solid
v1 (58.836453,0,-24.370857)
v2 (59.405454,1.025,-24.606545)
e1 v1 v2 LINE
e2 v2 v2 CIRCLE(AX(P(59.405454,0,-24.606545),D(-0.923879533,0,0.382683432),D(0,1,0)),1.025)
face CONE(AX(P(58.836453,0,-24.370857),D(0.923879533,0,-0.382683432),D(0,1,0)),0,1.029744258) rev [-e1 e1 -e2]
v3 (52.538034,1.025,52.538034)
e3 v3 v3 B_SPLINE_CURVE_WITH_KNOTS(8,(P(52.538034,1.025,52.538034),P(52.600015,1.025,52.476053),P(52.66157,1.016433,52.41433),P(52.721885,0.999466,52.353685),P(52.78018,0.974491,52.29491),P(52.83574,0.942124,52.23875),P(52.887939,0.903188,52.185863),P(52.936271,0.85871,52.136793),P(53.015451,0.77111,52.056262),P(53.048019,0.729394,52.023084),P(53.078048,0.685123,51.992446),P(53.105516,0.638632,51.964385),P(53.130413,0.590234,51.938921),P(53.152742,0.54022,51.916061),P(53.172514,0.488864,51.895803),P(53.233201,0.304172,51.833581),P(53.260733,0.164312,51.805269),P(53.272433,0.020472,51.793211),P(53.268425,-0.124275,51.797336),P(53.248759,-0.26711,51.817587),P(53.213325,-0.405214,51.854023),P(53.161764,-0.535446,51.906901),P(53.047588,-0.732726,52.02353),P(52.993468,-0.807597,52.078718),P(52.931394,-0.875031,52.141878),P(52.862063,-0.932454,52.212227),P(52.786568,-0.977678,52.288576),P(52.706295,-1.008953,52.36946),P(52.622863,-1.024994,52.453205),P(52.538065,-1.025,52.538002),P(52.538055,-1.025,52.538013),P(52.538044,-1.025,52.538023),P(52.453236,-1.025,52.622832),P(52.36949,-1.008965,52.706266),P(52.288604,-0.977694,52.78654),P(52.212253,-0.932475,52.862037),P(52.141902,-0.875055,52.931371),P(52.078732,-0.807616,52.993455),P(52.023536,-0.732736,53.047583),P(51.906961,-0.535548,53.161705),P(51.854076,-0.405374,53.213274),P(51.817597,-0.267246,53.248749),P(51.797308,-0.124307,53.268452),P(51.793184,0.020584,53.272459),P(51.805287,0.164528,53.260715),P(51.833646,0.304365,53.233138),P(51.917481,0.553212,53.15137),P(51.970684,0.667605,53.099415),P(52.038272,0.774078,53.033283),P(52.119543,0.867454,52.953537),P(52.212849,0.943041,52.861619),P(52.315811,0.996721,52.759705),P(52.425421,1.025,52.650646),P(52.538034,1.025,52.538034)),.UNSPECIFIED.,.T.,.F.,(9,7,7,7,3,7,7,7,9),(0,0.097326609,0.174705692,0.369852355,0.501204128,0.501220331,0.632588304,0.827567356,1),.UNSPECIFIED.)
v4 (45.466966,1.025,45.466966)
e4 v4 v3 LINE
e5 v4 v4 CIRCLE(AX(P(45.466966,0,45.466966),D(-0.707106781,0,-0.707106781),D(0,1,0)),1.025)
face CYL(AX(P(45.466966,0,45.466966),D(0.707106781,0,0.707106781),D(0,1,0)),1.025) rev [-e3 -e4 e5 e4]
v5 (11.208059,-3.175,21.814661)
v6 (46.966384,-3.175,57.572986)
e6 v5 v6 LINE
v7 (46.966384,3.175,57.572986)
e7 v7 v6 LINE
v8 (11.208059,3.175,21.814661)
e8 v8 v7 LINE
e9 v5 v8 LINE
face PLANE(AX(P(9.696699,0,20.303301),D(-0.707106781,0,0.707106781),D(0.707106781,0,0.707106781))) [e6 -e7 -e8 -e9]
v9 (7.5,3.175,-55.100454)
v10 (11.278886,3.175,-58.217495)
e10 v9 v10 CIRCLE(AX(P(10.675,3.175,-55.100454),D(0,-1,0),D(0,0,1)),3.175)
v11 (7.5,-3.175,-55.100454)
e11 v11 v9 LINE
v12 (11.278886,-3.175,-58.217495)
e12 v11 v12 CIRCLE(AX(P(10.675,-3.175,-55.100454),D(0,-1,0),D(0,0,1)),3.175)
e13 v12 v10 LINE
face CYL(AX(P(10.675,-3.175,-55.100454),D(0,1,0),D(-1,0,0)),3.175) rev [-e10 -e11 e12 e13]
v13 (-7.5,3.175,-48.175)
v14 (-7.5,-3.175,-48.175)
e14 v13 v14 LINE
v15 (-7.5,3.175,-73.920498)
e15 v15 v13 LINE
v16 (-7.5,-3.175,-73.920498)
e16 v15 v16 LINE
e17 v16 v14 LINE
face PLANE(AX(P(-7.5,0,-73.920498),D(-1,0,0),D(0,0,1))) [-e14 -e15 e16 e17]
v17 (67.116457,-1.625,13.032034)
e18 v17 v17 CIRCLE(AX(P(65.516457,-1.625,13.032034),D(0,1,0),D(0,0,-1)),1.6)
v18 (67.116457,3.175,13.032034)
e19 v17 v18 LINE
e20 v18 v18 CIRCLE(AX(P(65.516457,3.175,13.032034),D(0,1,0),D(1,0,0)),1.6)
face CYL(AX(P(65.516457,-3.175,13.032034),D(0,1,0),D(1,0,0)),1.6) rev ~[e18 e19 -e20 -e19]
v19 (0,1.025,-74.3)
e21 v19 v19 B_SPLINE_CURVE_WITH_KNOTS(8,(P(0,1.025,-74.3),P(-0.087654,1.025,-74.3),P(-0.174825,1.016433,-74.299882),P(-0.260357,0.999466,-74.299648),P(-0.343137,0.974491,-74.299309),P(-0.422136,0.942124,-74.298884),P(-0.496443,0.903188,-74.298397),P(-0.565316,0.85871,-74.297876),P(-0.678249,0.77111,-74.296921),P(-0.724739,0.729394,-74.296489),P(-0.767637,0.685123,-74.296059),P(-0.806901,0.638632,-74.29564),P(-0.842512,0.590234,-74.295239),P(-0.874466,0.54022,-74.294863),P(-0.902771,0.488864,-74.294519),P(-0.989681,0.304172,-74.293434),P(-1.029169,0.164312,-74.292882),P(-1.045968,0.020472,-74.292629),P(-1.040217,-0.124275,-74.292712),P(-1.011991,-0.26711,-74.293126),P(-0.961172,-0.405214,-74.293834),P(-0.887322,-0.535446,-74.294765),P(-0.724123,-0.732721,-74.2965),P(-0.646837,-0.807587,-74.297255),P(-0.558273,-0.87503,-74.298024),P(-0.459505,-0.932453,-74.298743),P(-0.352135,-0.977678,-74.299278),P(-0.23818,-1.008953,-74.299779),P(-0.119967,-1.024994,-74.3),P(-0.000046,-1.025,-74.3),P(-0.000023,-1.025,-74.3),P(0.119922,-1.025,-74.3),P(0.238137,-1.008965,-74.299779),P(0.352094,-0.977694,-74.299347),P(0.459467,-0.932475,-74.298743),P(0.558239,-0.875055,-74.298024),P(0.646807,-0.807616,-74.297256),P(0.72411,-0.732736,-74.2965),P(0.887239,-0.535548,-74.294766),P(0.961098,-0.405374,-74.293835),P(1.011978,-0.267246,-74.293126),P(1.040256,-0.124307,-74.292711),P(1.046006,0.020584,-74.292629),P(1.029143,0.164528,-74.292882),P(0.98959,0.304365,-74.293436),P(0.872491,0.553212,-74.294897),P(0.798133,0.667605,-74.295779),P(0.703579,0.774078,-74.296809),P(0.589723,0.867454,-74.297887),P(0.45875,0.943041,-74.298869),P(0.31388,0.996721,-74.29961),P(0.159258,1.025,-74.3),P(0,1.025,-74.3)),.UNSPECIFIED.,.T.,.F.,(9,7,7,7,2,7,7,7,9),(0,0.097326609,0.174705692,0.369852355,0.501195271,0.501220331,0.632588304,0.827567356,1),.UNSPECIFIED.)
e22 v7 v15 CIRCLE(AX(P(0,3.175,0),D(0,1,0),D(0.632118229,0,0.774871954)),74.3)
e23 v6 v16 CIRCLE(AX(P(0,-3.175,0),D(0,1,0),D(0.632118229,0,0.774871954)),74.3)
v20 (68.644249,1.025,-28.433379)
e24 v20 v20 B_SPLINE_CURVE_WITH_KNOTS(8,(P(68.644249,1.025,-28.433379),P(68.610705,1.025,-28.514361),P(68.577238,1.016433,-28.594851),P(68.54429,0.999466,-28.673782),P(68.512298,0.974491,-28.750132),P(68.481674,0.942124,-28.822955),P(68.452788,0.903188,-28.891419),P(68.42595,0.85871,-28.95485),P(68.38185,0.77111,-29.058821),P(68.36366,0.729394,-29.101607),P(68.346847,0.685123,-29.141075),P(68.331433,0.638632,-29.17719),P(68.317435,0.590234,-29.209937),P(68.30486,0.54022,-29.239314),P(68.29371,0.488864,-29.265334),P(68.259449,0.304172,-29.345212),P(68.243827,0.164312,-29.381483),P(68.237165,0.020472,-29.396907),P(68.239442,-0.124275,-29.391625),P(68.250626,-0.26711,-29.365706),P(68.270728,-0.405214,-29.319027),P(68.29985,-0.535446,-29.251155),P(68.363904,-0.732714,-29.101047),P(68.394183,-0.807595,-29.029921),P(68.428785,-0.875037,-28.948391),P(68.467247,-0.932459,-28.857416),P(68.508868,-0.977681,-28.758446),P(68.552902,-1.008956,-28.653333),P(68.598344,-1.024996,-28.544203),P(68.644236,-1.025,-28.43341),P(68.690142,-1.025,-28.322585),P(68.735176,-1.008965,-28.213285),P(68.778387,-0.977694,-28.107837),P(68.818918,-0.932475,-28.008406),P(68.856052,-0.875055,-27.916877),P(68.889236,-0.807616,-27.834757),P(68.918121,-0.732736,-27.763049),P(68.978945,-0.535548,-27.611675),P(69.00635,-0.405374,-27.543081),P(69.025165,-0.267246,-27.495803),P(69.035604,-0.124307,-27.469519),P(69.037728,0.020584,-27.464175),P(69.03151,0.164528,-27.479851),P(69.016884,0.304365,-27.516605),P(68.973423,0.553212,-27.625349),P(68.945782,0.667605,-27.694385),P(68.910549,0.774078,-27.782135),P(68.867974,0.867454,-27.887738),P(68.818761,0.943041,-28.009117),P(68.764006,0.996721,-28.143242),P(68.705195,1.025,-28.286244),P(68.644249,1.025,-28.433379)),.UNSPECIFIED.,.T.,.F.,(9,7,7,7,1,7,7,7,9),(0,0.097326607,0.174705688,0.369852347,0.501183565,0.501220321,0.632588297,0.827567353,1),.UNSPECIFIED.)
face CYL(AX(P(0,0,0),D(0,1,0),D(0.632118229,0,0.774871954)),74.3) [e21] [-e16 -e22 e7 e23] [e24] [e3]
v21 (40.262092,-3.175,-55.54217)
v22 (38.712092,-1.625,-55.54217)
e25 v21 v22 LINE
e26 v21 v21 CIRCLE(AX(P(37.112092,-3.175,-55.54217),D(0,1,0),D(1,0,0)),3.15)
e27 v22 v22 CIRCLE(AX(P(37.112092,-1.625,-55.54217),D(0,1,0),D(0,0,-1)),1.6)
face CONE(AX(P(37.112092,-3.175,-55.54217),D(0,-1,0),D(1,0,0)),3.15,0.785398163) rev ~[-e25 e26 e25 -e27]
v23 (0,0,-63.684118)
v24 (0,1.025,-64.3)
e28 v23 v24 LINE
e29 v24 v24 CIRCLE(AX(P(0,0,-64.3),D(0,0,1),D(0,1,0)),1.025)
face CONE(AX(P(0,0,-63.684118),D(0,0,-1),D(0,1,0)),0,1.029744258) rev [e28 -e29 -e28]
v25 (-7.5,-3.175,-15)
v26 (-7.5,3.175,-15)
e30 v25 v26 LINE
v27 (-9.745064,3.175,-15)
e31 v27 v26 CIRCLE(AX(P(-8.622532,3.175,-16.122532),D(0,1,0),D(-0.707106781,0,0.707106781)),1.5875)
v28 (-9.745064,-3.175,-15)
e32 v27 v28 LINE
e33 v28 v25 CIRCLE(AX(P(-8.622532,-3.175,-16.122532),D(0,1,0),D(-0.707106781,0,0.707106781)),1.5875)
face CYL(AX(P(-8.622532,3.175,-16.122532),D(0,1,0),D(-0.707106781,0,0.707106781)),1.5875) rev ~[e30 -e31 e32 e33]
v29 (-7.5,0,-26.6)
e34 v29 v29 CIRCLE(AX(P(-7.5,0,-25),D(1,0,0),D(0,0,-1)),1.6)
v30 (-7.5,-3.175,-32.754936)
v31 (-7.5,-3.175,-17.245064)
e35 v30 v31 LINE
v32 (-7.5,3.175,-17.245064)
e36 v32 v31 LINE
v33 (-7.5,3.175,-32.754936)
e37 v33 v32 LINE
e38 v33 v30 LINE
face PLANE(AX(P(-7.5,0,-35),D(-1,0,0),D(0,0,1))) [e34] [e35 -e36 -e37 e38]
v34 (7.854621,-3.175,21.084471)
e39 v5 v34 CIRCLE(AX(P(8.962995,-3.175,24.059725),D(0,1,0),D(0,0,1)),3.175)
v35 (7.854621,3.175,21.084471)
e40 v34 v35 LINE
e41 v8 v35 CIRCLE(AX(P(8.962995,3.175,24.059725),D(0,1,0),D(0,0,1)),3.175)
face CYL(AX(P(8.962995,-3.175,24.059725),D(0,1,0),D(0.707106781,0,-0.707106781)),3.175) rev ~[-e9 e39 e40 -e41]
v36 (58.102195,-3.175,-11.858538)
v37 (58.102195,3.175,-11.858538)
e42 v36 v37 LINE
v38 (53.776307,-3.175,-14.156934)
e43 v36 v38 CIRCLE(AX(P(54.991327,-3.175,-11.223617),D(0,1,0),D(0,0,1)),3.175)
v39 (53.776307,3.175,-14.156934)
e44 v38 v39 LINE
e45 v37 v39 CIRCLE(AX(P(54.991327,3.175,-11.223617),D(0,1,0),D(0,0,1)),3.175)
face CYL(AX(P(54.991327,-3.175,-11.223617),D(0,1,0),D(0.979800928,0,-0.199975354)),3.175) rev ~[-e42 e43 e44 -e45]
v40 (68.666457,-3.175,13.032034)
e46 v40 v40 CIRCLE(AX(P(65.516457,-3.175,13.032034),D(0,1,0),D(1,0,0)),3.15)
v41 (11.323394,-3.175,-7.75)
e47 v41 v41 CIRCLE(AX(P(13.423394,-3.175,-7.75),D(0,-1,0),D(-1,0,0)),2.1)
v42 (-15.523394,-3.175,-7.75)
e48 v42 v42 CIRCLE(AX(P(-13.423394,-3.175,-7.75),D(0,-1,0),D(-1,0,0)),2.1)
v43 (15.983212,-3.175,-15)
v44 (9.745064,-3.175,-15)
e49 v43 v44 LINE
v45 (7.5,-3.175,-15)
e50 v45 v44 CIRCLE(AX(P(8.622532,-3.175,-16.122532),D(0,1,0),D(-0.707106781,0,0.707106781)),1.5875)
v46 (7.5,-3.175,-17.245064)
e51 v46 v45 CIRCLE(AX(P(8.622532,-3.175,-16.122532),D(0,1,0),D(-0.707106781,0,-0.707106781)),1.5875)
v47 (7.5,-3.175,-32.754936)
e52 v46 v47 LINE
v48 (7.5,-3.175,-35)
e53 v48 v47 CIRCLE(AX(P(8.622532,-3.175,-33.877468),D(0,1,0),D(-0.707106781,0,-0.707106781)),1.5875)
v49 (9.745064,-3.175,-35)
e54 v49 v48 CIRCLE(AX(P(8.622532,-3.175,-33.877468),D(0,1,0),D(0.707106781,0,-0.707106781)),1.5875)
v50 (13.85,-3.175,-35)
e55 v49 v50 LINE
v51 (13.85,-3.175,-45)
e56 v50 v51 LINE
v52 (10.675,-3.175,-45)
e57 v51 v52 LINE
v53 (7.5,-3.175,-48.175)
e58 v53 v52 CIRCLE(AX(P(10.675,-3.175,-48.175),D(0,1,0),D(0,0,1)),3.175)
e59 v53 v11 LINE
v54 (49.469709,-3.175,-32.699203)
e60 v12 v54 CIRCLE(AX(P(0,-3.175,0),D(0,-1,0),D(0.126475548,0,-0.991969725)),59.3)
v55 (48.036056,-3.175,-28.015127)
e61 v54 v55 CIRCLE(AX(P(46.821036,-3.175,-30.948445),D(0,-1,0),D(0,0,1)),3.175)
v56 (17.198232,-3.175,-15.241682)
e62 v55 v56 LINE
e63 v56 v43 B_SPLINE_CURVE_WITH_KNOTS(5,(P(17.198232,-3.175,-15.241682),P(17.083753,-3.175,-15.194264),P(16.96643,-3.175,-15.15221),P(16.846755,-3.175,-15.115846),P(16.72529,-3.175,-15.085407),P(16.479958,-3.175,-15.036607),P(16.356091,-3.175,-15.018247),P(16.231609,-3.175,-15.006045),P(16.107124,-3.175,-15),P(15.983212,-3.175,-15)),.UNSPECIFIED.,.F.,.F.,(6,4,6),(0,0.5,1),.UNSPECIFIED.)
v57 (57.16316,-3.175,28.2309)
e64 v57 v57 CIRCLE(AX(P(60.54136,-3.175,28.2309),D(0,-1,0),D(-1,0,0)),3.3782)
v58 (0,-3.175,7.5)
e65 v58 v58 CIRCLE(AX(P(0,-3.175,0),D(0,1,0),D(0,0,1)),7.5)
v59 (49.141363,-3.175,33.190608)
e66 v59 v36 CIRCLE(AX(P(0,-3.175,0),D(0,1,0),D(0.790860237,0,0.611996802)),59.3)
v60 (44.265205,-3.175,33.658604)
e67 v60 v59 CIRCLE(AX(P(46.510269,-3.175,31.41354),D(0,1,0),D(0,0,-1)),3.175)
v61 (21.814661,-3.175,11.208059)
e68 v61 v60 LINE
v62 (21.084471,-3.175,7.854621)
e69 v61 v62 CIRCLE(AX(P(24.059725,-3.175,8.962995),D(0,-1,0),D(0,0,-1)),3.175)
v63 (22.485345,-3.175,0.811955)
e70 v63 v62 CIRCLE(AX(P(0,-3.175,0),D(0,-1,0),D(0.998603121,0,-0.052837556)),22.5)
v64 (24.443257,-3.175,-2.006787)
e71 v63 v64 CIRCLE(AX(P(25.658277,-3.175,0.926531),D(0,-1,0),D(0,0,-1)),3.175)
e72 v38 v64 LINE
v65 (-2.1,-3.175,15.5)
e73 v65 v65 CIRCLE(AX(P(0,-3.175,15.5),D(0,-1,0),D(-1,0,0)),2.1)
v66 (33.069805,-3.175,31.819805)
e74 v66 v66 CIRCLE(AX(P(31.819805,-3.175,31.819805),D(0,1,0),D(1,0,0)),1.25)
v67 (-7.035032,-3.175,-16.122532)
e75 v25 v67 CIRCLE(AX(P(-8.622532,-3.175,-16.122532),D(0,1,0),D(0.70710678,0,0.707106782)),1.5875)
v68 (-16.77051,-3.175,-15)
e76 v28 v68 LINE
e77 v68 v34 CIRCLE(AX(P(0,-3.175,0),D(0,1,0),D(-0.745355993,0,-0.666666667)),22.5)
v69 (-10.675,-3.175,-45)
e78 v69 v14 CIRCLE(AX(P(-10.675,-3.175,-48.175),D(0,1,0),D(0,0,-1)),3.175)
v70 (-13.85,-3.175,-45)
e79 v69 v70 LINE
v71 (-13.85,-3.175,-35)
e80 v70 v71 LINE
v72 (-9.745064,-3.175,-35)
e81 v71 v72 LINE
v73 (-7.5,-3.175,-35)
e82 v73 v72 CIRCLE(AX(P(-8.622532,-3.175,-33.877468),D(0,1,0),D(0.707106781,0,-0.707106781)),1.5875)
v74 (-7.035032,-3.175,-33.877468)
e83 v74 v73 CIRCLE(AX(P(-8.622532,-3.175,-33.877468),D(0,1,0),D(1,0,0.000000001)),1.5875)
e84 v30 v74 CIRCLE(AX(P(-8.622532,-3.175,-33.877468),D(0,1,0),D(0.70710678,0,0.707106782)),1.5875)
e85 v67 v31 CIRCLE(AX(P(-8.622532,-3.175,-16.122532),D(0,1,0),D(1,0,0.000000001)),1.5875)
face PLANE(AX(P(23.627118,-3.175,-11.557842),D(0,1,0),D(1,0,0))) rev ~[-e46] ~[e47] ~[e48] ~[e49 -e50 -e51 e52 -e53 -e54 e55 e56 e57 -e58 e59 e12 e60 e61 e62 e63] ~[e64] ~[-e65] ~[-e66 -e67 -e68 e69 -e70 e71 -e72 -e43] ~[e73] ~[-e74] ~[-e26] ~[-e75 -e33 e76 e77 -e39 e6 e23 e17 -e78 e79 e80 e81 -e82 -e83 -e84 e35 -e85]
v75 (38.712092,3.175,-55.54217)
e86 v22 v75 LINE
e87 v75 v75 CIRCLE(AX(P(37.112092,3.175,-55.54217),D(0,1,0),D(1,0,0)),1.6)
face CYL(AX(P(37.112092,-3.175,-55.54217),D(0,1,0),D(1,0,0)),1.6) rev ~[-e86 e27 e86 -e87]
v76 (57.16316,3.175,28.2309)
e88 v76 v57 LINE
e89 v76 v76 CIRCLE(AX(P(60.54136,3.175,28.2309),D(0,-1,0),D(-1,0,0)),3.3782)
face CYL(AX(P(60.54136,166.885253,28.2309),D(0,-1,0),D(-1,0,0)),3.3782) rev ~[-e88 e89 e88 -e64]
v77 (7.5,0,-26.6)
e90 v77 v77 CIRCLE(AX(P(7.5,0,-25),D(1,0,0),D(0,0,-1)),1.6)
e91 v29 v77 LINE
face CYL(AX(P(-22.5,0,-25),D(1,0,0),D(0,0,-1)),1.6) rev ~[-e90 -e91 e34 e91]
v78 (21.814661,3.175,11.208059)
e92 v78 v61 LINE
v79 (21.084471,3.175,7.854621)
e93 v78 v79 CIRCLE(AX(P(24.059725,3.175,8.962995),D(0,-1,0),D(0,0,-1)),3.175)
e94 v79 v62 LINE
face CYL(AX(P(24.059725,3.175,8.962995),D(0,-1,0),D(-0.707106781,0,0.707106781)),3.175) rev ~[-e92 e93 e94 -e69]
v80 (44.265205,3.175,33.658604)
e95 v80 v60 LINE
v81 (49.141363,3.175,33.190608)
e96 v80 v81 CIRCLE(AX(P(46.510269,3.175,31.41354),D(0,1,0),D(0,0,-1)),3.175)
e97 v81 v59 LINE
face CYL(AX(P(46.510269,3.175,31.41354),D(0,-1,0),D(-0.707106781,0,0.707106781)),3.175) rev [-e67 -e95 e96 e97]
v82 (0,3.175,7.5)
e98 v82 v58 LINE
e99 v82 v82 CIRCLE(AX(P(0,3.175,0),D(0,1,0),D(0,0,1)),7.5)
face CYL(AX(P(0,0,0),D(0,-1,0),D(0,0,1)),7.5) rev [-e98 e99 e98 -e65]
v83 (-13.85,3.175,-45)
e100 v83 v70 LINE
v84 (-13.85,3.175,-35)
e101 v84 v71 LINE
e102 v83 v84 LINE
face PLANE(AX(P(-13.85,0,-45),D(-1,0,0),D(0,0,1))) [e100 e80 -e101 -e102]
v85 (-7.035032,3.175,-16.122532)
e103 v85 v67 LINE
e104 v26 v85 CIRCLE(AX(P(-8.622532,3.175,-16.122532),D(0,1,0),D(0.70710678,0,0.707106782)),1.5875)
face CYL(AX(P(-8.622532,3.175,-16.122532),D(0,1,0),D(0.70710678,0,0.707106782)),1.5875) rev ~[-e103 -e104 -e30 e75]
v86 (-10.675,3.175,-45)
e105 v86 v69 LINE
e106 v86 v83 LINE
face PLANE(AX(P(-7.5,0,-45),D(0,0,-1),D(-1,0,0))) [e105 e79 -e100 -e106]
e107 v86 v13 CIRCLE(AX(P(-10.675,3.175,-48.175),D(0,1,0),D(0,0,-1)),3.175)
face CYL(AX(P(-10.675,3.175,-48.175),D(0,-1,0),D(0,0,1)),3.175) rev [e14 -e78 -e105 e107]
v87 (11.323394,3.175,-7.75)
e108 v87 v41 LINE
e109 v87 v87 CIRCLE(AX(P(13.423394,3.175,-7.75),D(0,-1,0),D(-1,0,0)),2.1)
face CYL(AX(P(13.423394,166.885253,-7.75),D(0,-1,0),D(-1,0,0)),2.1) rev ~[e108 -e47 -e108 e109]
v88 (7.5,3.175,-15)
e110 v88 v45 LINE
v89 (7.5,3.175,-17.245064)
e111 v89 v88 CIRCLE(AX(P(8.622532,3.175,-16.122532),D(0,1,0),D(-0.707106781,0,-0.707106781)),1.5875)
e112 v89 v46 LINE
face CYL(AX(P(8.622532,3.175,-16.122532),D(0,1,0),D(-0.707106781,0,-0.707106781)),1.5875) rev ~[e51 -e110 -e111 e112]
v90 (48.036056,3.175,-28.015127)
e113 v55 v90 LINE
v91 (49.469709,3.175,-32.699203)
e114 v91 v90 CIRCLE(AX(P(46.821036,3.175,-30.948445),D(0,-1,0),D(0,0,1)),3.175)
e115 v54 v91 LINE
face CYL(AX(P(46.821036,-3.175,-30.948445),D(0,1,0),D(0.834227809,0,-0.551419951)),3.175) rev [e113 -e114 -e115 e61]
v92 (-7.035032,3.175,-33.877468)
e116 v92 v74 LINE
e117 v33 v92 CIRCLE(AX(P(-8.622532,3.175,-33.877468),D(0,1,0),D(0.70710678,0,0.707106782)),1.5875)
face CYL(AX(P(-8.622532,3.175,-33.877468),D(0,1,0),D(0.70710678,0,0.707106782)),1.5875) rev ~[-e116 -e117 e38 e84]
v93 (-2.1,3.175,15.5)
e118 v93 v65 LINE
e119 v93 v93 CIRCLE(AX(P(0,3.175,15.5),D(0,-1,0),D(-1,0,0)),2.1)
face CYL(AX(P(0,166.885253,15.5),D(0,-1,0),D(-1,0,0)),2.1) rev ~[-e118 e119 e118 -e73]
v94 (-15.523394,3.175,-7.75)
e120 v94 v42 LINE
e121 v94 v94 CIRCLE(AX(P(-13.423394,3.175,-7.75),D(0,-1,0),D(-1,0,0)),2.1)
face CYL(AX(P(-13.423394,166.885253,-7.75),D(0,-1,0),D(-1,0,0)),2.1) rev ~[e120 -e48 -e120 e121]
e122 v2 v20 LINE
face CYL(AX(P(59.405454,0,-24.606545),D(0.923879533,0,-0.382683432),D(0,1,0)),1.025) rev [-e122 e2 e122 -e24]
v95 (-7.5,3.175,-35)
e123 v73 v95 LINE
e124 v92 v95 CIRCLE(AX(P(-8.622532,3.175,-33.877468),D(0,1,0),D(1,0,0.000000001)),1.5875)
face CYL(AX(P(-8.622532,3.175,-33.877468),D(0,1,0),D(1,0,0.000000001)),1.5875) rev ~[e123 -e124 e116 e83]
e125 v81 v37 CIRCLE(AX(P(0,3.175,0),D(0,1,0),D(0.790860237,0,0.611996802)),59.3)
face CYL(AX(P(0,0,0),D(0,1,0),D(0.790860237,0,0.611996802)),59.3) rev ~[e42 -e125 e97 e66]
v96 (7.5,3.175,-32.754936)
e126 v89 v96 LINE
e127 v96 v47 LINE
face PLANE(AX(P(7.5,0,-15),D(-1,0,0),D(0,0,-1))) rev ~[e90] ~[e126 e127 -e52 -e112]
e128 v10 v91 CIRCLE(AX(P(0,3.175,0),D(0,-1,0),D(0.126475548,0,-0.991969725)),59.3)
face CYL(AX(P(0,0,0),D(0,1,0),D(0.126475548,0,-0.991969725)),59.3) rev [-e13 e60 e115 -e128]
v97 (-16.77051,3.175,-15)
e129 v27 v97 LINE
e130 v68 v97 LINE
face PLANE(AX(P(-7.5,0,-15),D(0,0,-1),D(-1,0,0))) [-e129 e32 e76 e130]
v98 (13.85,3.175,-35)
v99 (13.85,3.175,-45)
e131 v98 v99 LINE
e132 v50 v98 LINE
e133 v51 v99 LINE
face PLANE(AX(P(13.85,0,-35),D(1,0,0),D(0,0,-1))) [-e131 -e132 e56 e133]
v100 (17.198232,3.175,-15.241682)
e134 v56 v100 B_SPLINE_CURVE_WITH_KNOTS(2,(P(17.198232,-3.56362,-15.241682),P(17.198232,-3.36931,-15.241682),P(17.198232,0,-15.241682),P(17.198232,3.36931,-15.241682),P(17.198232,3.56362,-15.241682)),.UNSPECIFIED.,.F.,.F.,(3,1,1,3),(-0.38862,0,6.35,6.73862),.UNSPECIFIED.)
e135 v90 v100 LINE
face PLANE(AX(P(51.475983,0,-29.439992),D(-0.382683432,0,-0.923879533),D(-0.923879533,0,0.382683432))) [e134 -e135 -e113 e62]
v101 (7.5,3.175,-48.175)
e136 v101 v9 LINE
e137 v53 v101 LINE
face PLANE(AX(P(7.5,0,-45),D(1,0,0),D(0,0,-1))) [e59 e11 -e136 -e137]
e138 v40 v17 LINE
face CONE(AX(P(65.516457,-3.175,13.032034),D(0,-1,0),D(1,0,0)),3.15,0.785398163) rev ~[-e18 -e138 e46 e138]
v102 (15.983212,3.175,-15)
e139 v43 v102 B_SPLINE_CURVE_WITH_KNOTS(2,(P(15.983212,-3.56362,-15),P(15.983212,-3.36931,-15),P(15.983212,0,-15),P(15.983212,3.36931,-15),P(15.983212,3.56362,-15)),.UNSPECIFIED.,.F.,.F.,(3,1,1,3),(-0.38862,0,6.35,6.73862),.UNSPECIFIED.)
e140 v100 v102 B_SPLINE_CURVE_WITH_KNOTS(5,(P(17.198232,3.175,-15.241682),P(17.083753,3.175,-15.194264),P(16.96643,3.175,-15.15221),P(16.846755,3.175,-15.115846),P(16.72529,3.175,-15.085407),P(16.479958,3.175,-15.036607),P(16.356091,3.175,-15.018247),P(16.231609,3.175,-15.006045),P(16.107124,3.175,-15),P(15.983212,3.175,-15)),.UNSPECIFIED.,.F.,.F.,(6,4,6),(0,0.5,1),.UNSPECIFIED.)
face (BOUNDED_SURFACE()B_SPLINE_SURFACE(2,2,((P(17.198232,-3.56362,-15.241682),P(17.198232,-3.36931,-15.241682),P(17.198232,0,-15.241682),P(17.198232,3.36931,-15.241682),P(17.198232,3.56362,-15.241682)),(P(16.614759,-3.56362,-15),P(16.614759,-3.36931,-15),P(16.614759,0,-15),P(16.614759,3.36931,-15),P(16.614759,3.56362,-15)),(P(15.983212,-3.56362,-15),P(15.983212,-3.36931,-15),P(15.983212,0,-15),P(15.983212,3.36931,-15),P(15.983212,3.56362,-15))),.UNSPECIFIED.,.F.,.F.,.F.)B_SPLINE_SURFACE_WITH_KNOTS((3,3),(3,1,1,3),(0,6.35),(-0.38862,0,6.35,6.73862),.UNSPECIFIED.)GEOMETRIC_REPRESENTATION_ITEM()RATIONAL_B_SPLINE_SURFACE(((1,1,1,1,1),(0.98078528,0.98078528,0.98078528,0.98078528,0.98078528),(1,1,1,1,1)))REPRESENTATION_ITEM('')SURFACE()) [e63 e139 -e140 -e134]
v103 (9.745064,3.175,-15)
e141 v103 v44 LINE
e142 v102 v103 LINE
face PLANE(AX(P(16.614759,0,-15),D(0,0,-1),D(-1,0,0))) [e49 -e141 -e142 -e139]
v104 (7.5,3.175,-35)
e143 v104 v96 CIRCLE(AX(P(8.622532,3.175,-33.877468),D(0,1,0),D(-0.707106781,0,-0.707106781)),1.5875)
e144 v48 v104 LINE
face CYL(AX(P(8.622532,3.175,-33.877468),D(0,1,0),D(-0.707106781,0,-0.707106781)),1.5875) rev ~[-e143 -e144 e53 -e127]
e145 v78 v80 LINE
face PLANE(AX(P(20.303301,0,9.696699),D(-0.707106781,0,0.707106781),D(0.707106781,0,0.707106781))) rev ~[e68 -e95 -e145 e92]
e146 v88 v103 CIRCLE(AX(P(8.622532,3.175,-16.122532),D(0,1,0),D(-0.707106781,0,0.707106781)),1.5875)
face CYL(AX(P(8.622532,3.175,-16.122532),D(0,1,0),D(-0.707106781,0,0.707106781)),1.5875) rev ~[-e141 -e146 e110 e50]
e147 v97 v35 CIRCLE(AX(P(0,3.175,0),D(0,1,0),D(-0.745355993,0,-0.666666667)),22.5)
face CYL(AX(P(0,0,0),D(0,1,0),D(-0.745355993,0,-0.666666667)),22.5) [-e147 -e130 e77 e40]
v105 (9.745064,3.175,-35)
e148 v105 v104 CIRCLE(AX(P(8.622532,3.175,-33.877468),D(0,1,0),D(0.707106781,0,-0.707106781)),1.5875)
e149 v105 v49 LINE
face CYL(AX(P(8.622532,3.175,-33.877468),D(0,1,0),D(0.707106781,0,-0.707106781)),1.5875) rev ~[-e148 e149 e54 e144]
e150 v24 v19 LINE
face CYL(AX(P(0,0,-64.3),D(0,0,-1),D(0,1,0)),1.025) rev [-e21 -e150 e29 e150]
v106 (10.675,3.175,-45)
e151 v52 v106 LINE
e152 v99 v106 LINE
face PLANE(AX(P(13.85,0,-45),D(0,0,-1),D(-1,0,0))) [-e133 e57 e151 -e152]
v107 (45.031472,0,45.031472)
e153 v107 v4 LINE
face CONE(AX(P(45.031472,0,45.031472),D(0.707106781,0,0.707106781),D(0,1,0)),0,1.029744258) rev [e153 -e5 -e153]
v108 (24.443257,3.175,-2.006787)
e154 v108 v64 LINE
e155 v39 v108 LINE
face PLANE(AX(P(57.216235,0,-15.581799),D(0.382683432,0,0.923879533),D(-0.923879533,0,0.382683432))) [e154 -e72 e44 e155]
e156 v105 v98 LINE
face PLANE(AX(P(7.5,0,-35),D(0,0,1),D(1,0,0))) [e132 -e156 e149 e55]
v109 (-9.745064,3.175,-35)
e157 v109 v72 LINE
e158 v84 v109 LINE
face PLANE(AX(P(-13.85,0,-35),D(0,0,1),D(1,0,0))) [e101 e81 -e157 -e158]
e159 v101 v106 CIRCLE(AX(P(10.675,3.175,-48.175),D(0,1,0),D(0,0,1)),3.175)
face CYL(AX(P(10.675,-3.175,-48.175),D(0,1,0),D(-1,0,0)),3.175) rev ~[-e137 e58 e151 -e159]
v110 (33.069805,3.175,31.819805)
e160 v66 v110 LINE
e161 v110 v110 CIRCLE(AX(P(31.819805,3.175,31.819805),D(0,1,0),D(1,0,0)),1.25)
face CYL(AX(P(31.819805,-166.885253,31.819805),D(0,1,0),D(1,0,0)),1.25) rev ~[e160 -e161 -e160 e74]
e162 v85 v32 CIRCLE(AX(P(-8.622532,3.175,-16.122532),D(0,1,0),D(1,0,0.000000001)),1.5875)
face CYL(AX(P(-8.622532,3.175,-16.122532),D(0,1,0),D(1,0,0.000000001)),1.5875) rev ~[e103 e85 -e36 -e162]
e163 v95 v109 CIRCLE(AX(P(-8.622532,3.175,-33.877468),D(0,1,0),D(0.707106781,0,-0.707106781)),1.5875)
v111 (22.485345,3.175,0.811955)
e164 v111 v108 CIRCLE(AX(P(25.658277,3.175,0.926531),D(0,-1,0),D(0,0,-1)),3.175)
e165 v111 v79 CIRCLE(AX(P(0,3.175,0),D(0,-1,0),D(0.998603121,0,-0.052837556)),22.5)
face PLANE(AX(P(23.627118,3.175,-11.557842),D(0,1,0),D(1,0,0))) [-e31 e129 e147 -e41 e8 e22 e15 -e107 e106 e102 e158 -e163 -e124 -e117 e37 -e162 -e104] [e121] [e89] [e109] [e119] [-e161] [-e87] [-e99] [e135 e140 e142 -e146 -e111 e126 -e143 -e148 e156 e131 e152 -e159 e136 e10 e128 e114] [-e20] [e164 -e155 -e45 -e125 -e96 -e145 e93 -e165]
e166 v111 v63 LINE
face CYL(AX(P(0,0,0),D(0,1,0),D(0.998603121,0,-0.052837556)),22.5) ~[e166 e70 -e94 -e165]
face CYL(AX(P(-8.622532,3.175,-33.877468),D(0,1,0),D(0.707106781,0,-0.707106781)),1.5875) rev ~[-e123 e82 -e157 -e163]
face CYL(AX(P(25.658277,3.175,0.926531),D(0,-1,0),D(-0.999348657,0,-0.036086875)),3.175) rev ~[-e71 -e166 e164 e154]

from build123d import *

# Parameters (mm, degrees)
SKETCH1_R                                       = 7.5
BOSS_EXTRUDE1_DEPTH                             = 3.175
M5X0_8_TAPPED_HOLE2_D                           = 4.2
CIRPATTERN1_COUNT                               = 3
CIRPATTERN1_ANGLE                               = 135
M3_CLEARANCE_HOLE1_D                            = 3.2
M3_CLEARANCE_HOLE1_DEPTH                        = 15
CSK_FOR_M3_FLAT_HEAD_MACHINE_SCREW1_D           = 3.2
CSK_FOR_M3_FLAT_HEAD_MACHINE_SCREW1_CSINK_D     = 6.3
CSK_FOR_M3_FLAT_HEAD_MACHINE_SCREW1_CSINK_ANGLE = 90
M3X0_5_TAPPED_HOLE1_D                           = 2.5
CUT_EXTRUDE1_REACH                              = 107.268
FILLET1_R                                       = 3.175
F_1_4_CLEARANCE_HOLE1_D                         = 6.7564


with BuildPart() as part:
    # Sketch1 → Boss-Extrude1 (new, symmetric)
    with BuildSketch(Plane(origin=(0, 0, 0), x_dir=(1, 0, 0), z_dir=(0, 1, 0))):
        with BuildLine():
            Line((-13.85, 35), (-7.5, 35))
            Line((-7.5, 35), (-7.5, 15))
            Line((-7.5, 15), (-16.770509831, 15))
            ThreePointArc((-16.770509831, 15), (-18.002512666, -13.496649128), (9.696699141, -20.303300859))
            Line((9.696699141, -20.303300859), (46.966384428, -57.572986146))
            ThreePointArc((46.966384428, -57.572986146), (68.644249266, 28.433379025), (-7.5, 73.920497834))
            Line((-7.5, 73.920497834), (-7.5, 45))
            Line((-7.5, 45), (-13.85, 45))
            Line((-13.85, 45), (-13.85, 35))
        make_face()
        with Locations(Location((0, 0, 0), (0, 0, 270))):
            Circle(SKETCH1_R, mode=Mode.SUBTRACT)
        with BuildLine():
            Line((20.303300859, -9.696699141), (46.898012061, -36.291410343))
            ThreePointArc((46.898012061, -36.291410343), (58.160567128, -11.568856096), (57.216234934, 15.581798996))
            Line((57.216234934, 15.581798996), (22.468570216, 1.188845008))
            ThreePointArc((22.468570216, 1.188845008), (22.067668809, -4.389532245), (20.303300859, -9.696699141))
        make_face(mode=Mode.SUBTRACT)
        with BuildLine():
            Line((7.5, 15), (7.5, 35))
            Line((7.5, 35), (13.85, 35))
            Line((13.85, 35), (13.85, 45))
            Line((13.85, 45), (7.5, 45))
            Line((7.5, 45), (7.5, 58.823804705))
            ThreePointArc((7.5, 58.823804705), (32.945314818, 49.30614801), (51.475983449, 29.439991983))
            Line((51.475983449, 29.439991983), (16.72831873, 15.047037996))
            Line((16.72831873, 15.047037996), (16.614758962, 15))
            Line((16.614758962, 15), (7.5, 15))
        make_face(mode=Mode.SUBTRACT)
    extrude(amount=BOSS_EXTRUDE1_DEPTH, both=True)

    # M5x0.8 Tapped Hole2 (through all)
    with Locations(Plane(origin=(0, 3.175, 0), x_dir=(1, 0, 0), z_dir=(0, 1, 0))):
        with Locations((0, -15.5), (-13.423393759, 7.75), (13.423393759, 7.75)):
            Hole(M5X0_8_TAPPED_HOLE2_D / 2)

    # Sketch5 → M2.5x0.45 Tapped Hole1 (revolve, cut)
    with BuildSketch(Plane(origin=(0, 0, -74.3), x_dir=(0, 1, 0), z_dir=(1, 0, 0))):
        Polygon((0, 0), (0, 10.615882135), (1.025, 10), (1.025, 0), align=None)
    m2_5x0_45_tapped_hole1 = revolve(axis=Axis((0, 0, -80.65), (0, 0, 1)), mode=Mode.SUBTRACT)

    # CirPattern1: M2.5x0.45 Tapped Hole1 ×3 about axis
    cirpattern1_axis = Axis((0, 3.175, 0), (0, -1, 0))
    for i in range(1, CIRPATTERN1_COUNT):
        add(m2_5x0_45_tapped_hole1.rotate(cirpattern1_axis, i * CIRPATTERN1_ANGLE / (CIRPATTERN1_COUNT - 1)), mode=Mode.SUBTRACT)

    # M3 Clearance Hole1
    with Locations(Plane.ZY.offset(7.5)):
        with Locations((-25, 0)):
            Hole(M3_CLEARANCE_HOLE1_D / 2, depth=M3_CLEARANCE_HOLE1_DEPTH)

    # CSK for M3 Flat Head Machine Screw1 (through all)
    with Locations(Plane(origin=(0, -3.175, 0), x_dir=(-1, 0, 0), z_dir=(0, -1, 0))):
        with Locations((-37.112091566, 55.542170102), (-65.516456731, -13.032033511)):
            CounterSinkHole(CSK_FOR_M3_FLAT_HEAD_MACHINE_SCREW1_D / 2, CSK_FOR_M3_FLAT_HEAD_MACHINE_SCREW1_CSINK_D / 2, counter_sink_angle=CSK_FOR_M3_FLAT_HEAD_MACHINE_SCREW1_CSINK_ANGLE)

    # M3x0.5 Tapped Hole1 (through all)
    with Locations(Plane(origin=(0, -3.175, 0), x_dir=(-1, 0, 0), z_dir=(0, -1, 0))):
        with Locations((-31.819805153, -31.819805153)):
            Hole(M3X0_5_TAPPED_HOLE1_D / 2)

    # Sketch12 → Cut-Extrude1 (cut, up to next)
    with BuildSketch(Plane(origin=(0, 3.175, 0), x_dir=(1, 0, 0), z_dir=(0, 1, 0)), mode=Mode.PRIVATE) as cut_extrude1_sk1:
        with BuildLine():
            ThreePointArc((-7.035032015, 16.122532015), (-7.155873257, 16.730041964), (-7.5, 17.24506403))
            Line((-7.5, 17.24506403), (-7.5, 16.122532015))
            Line((-7.5, 16.122532015), (-7.5, 15))
            ThreePointArc((-7.5, 15), (-7.155873257, 15.515022066), (-7.035032015, 16.122532015))
        make_face()
    cut_extrude1_tool1 = extrude(cut_extrude1_sk1.sketch, amount=-CUT_EXTRUDE1_REACH, mode=Mode.PRIVATE) & part.part
    # Sketch12 → Cut-Extrude1 (cut, up to next)
    with BuildSketch(Plane(origin=(0, 3.175, 0), x_dir=(1, 0, 0), z_dir=(0, 1, 0)), mode=Mode.PRIVATE) as cut_extrude1_sk2:
        with BuildLine():
            Line((-8.622532015, 15), (-9.74506403, 15))
            ThreePointArc((-9.74506403, 15), (-8.622532015, 14.535032015), (-7.5, 15))
            Line((-7.5, 15), (-8.622532015, 15))
        make_face()
    cut_extrude1_tool2 = extrude(cut_extrude1_sk2.sketch, amount=-CUT_EXTRUDE1_REACH, mode=Mode.PRIVATE) & part.part
    # Sketch12 → Cut-Extrude1 (cut, up to next)
    with BuildSketch(Plane(origin=(0, 3.175, 0), x_dir=(1, 0, 0), z_dir=(0, 1, 0)), mode=Mode.PRIVATE) as cut_extrude1_sk3:
        with BuildLine():
            Line((8.622532015, 15), (7.5, 15))
            ThreePointArc((7.5, 15), (8.622532015, 14.535032015), (9.74506403, 15))
            Line((9.74506403, 15), (8.622532015, 15))
        make_face()
    cut_extrude1_tool3 = extrude(cut_extrude1_sk3.sketch, amount=-CUT_EXTRUDE1_REACH, mode=Mode.PRIVATE) & part.part
    # Sketch12 → Cut-Extrude1 (cut, up to next)
    with BuildSketch(Plane(origin=(0, 3.175, 0), x_dir=(1, 0, 0), z_dir=(0, 1, 0)), mode=Mode.PRIVATE) as cut_extrude1_sk4:
        with BuildLine():
            Line((7.5, 16.122532015), (7.5, 17.24506403))
            ThreePointArc((7.5, 17.24506403), (7.035032015, 16.122532015), (7.5, 15))
            Line((7.5, 15), (7.5, 16.122532015))
        make_face()
    cut_extrude1_tool4 = extrude(cut_extrude1_sk4.sketch, amount=-CUT_EXTRUDE1_REACH, mode=Mode.PRIVATE) & part.part
    # Sketch12 → Cut-Extrude1 (cut, up to next)
    with BuildSketch(Plane(origin=(0, 3.175, 0), x_dir=(1, 0, 0), z_dir=(0, 1, 0)), mode=Mode.PRIVATE) as cut_extrude1_sk5:
        with BuildLine():
            Line((7.5, 33.877467985), (7.5, 35))
            ThreePointArc((7.5, 35), (7.035032015, 33.877467985), (7.5, 32.75493597))
            Line((7.5, 32.75493597), (7.5, 33.877467985))
        make_face()
    cut_extrude1_tool5 = extrude(cut_extrude1_sk5.sketch, amount=-CUT_EXTRUDE1_REACH, mode=Mode.PRIVATE) & part.part
    # Sketch12 → Cut-Extrude1 (cut, up to next)
    with BuildSketch(Plane(origin=(0, 3.175, 0), x_dir=(1, 0, 0), z_dir=(0, 1, 0)), mode=Mode.PRIVATE) as cut_extrude1_sk6:
        with BuildLine():
            ThreePointArc((9.74506403, 35), (8.622532015, 35.464967985), (7.5, 35))
            Line((7.5, 35), (8.622532015, 35))
            Line((8.622532015, 35), (9.74506403, 35))
        make_face()
    cut_extrude1_tool6 = extrude(cut_extrude1_sk6.sketch, amount=-CUT_EXTRUDE1_REACH, mode=Mode.PRIVATE) & part.part
    # Sketch12 → Cut-Extrude1 (cut, up to next)
    with BuildSketch(Plane(origin=(0, 3.175, 0), x_dir=(1, 0, 0), z_dir=(0, 1, 0)), mode=Mode.PRIVATE) as cut_extrude1_sk7:
        with BuildLine():
            ThreePointArc((-7.035032015, 33.877467985), (-7.155873257, 34.484977934), (-7.5, 35))
            Line((-7.5, 35), (-7.5, 33.877467985))
            Line((-7.5, 33.877467985), (-7.5, 32.75493597))
            ThreePointArc((-7.5, 32.75493597), (-7.155873257, 33.269958036), (-7.035032015, 33.877467985))
        make_face()
    cut_extrude1_tool7 = extrude(cut_extrude1_sk7.sketch, amount=-CUT_EXTRUDE1_REACH, mode=Mode.PRIVATE) & part.part
    # Sketch12 → Cut-Extrude1 (cut, up to next)
    with BuildSketch(Plane(origin=(0, 3.175, 0), x_dir=(1, 0, 0), z_dir=(0, 1, 0)), mode=Mode.PRIVATE) as cut_extrude1_sk8:
        with BuildLine():
            Line((-8.622532015, 35), (-7.5, 35))
            ThreePointArc((-7.5, 35), (-8.622532015, 35.464967985), (-9.74506403, 35))
            Line((-9.74506403, 35), (-8.622532015, 35))
        make_face()
    cut_extrude1_tool8 = extrude(cut_extrude1_sk8.sketch, amount=-CUT_EXTRUDE1_REACH, mode=Mode.PRIVATE) & part.part
    add(cut_extrude1_tool1.solids().sort_by_distance((-7.311461, 3.175, -16.122532))[0], mode=Mode.SUBTRACT)
    add(cut_extrude1_tool2.solids().sort_by_distance((-8.622532, 3.175, -14.811461))[0], mode=Mode.SUBTRACT)
    add(cut_extrude1_tool3.solids().sort_by_distance((8.622532, 3.175, -14.811461))[0], mode=Mode.SUBTRACT)
    add(cut_extrude1_tool4.solids().sort_by_distance((7.311461, 3.175, -16.122532))[0], mode=Mode.SUBTRACT)
    add(cut_extrude1_tool5.solids().sort_by_distance((7.311461, 3.175, -33.877468))[0], mode=Mode.SUBTRACT)
    add(cut_extrude1_tool6.solids().sort_by_distance((8.622532, 3.175, -35.188539))[0], mode=Mode.SUBTRACT)
    add(cut_extrude1_tool7.solids().sort_by_distance((-7.311461, 3.175, -33.877468))[0], mode=Mode.SUBTRACT)
    add(cut_extrude1_tool8.solids().sort_by_distance((-8.622532, 3.175, -35.188539))[0], mode=Mode.SUBTRACT)

    # Fillet1
    fillet1_edges = [part.edges().sort_by_distance(p)[0] for p in [
        (-7.5, 0, -45),
        (9.696699141, 0, 20.303300859),
        (7.5, 0, -58.823804705),
        (7.5, 0, -45),
        (16.614758962, 0, -15),
        (51.475983449, 0, -29.439991983),
        (46.898012061, 0, 36.291410343),
        (57.216234934, 0, -15.581798996),
        (22.468570216, 0, -1.188845008),
        (20.303300859, 0, 9.696699141),
    ]]
    fillet(fillet1_edges, radius=FILLET1_R)

    # 1/4 Clearance Hole1 (through all)
    with Locations(Plane(origin=(0, 3.175, 0), x_dir=(1, 0, 0), z_dir=(0, 1, 0))):
        with Locations((60.541360174, -28.230899884)):
            Hole(F_1_4_CLEARANCE_HOLE1_D / 2)


solid = part.part
